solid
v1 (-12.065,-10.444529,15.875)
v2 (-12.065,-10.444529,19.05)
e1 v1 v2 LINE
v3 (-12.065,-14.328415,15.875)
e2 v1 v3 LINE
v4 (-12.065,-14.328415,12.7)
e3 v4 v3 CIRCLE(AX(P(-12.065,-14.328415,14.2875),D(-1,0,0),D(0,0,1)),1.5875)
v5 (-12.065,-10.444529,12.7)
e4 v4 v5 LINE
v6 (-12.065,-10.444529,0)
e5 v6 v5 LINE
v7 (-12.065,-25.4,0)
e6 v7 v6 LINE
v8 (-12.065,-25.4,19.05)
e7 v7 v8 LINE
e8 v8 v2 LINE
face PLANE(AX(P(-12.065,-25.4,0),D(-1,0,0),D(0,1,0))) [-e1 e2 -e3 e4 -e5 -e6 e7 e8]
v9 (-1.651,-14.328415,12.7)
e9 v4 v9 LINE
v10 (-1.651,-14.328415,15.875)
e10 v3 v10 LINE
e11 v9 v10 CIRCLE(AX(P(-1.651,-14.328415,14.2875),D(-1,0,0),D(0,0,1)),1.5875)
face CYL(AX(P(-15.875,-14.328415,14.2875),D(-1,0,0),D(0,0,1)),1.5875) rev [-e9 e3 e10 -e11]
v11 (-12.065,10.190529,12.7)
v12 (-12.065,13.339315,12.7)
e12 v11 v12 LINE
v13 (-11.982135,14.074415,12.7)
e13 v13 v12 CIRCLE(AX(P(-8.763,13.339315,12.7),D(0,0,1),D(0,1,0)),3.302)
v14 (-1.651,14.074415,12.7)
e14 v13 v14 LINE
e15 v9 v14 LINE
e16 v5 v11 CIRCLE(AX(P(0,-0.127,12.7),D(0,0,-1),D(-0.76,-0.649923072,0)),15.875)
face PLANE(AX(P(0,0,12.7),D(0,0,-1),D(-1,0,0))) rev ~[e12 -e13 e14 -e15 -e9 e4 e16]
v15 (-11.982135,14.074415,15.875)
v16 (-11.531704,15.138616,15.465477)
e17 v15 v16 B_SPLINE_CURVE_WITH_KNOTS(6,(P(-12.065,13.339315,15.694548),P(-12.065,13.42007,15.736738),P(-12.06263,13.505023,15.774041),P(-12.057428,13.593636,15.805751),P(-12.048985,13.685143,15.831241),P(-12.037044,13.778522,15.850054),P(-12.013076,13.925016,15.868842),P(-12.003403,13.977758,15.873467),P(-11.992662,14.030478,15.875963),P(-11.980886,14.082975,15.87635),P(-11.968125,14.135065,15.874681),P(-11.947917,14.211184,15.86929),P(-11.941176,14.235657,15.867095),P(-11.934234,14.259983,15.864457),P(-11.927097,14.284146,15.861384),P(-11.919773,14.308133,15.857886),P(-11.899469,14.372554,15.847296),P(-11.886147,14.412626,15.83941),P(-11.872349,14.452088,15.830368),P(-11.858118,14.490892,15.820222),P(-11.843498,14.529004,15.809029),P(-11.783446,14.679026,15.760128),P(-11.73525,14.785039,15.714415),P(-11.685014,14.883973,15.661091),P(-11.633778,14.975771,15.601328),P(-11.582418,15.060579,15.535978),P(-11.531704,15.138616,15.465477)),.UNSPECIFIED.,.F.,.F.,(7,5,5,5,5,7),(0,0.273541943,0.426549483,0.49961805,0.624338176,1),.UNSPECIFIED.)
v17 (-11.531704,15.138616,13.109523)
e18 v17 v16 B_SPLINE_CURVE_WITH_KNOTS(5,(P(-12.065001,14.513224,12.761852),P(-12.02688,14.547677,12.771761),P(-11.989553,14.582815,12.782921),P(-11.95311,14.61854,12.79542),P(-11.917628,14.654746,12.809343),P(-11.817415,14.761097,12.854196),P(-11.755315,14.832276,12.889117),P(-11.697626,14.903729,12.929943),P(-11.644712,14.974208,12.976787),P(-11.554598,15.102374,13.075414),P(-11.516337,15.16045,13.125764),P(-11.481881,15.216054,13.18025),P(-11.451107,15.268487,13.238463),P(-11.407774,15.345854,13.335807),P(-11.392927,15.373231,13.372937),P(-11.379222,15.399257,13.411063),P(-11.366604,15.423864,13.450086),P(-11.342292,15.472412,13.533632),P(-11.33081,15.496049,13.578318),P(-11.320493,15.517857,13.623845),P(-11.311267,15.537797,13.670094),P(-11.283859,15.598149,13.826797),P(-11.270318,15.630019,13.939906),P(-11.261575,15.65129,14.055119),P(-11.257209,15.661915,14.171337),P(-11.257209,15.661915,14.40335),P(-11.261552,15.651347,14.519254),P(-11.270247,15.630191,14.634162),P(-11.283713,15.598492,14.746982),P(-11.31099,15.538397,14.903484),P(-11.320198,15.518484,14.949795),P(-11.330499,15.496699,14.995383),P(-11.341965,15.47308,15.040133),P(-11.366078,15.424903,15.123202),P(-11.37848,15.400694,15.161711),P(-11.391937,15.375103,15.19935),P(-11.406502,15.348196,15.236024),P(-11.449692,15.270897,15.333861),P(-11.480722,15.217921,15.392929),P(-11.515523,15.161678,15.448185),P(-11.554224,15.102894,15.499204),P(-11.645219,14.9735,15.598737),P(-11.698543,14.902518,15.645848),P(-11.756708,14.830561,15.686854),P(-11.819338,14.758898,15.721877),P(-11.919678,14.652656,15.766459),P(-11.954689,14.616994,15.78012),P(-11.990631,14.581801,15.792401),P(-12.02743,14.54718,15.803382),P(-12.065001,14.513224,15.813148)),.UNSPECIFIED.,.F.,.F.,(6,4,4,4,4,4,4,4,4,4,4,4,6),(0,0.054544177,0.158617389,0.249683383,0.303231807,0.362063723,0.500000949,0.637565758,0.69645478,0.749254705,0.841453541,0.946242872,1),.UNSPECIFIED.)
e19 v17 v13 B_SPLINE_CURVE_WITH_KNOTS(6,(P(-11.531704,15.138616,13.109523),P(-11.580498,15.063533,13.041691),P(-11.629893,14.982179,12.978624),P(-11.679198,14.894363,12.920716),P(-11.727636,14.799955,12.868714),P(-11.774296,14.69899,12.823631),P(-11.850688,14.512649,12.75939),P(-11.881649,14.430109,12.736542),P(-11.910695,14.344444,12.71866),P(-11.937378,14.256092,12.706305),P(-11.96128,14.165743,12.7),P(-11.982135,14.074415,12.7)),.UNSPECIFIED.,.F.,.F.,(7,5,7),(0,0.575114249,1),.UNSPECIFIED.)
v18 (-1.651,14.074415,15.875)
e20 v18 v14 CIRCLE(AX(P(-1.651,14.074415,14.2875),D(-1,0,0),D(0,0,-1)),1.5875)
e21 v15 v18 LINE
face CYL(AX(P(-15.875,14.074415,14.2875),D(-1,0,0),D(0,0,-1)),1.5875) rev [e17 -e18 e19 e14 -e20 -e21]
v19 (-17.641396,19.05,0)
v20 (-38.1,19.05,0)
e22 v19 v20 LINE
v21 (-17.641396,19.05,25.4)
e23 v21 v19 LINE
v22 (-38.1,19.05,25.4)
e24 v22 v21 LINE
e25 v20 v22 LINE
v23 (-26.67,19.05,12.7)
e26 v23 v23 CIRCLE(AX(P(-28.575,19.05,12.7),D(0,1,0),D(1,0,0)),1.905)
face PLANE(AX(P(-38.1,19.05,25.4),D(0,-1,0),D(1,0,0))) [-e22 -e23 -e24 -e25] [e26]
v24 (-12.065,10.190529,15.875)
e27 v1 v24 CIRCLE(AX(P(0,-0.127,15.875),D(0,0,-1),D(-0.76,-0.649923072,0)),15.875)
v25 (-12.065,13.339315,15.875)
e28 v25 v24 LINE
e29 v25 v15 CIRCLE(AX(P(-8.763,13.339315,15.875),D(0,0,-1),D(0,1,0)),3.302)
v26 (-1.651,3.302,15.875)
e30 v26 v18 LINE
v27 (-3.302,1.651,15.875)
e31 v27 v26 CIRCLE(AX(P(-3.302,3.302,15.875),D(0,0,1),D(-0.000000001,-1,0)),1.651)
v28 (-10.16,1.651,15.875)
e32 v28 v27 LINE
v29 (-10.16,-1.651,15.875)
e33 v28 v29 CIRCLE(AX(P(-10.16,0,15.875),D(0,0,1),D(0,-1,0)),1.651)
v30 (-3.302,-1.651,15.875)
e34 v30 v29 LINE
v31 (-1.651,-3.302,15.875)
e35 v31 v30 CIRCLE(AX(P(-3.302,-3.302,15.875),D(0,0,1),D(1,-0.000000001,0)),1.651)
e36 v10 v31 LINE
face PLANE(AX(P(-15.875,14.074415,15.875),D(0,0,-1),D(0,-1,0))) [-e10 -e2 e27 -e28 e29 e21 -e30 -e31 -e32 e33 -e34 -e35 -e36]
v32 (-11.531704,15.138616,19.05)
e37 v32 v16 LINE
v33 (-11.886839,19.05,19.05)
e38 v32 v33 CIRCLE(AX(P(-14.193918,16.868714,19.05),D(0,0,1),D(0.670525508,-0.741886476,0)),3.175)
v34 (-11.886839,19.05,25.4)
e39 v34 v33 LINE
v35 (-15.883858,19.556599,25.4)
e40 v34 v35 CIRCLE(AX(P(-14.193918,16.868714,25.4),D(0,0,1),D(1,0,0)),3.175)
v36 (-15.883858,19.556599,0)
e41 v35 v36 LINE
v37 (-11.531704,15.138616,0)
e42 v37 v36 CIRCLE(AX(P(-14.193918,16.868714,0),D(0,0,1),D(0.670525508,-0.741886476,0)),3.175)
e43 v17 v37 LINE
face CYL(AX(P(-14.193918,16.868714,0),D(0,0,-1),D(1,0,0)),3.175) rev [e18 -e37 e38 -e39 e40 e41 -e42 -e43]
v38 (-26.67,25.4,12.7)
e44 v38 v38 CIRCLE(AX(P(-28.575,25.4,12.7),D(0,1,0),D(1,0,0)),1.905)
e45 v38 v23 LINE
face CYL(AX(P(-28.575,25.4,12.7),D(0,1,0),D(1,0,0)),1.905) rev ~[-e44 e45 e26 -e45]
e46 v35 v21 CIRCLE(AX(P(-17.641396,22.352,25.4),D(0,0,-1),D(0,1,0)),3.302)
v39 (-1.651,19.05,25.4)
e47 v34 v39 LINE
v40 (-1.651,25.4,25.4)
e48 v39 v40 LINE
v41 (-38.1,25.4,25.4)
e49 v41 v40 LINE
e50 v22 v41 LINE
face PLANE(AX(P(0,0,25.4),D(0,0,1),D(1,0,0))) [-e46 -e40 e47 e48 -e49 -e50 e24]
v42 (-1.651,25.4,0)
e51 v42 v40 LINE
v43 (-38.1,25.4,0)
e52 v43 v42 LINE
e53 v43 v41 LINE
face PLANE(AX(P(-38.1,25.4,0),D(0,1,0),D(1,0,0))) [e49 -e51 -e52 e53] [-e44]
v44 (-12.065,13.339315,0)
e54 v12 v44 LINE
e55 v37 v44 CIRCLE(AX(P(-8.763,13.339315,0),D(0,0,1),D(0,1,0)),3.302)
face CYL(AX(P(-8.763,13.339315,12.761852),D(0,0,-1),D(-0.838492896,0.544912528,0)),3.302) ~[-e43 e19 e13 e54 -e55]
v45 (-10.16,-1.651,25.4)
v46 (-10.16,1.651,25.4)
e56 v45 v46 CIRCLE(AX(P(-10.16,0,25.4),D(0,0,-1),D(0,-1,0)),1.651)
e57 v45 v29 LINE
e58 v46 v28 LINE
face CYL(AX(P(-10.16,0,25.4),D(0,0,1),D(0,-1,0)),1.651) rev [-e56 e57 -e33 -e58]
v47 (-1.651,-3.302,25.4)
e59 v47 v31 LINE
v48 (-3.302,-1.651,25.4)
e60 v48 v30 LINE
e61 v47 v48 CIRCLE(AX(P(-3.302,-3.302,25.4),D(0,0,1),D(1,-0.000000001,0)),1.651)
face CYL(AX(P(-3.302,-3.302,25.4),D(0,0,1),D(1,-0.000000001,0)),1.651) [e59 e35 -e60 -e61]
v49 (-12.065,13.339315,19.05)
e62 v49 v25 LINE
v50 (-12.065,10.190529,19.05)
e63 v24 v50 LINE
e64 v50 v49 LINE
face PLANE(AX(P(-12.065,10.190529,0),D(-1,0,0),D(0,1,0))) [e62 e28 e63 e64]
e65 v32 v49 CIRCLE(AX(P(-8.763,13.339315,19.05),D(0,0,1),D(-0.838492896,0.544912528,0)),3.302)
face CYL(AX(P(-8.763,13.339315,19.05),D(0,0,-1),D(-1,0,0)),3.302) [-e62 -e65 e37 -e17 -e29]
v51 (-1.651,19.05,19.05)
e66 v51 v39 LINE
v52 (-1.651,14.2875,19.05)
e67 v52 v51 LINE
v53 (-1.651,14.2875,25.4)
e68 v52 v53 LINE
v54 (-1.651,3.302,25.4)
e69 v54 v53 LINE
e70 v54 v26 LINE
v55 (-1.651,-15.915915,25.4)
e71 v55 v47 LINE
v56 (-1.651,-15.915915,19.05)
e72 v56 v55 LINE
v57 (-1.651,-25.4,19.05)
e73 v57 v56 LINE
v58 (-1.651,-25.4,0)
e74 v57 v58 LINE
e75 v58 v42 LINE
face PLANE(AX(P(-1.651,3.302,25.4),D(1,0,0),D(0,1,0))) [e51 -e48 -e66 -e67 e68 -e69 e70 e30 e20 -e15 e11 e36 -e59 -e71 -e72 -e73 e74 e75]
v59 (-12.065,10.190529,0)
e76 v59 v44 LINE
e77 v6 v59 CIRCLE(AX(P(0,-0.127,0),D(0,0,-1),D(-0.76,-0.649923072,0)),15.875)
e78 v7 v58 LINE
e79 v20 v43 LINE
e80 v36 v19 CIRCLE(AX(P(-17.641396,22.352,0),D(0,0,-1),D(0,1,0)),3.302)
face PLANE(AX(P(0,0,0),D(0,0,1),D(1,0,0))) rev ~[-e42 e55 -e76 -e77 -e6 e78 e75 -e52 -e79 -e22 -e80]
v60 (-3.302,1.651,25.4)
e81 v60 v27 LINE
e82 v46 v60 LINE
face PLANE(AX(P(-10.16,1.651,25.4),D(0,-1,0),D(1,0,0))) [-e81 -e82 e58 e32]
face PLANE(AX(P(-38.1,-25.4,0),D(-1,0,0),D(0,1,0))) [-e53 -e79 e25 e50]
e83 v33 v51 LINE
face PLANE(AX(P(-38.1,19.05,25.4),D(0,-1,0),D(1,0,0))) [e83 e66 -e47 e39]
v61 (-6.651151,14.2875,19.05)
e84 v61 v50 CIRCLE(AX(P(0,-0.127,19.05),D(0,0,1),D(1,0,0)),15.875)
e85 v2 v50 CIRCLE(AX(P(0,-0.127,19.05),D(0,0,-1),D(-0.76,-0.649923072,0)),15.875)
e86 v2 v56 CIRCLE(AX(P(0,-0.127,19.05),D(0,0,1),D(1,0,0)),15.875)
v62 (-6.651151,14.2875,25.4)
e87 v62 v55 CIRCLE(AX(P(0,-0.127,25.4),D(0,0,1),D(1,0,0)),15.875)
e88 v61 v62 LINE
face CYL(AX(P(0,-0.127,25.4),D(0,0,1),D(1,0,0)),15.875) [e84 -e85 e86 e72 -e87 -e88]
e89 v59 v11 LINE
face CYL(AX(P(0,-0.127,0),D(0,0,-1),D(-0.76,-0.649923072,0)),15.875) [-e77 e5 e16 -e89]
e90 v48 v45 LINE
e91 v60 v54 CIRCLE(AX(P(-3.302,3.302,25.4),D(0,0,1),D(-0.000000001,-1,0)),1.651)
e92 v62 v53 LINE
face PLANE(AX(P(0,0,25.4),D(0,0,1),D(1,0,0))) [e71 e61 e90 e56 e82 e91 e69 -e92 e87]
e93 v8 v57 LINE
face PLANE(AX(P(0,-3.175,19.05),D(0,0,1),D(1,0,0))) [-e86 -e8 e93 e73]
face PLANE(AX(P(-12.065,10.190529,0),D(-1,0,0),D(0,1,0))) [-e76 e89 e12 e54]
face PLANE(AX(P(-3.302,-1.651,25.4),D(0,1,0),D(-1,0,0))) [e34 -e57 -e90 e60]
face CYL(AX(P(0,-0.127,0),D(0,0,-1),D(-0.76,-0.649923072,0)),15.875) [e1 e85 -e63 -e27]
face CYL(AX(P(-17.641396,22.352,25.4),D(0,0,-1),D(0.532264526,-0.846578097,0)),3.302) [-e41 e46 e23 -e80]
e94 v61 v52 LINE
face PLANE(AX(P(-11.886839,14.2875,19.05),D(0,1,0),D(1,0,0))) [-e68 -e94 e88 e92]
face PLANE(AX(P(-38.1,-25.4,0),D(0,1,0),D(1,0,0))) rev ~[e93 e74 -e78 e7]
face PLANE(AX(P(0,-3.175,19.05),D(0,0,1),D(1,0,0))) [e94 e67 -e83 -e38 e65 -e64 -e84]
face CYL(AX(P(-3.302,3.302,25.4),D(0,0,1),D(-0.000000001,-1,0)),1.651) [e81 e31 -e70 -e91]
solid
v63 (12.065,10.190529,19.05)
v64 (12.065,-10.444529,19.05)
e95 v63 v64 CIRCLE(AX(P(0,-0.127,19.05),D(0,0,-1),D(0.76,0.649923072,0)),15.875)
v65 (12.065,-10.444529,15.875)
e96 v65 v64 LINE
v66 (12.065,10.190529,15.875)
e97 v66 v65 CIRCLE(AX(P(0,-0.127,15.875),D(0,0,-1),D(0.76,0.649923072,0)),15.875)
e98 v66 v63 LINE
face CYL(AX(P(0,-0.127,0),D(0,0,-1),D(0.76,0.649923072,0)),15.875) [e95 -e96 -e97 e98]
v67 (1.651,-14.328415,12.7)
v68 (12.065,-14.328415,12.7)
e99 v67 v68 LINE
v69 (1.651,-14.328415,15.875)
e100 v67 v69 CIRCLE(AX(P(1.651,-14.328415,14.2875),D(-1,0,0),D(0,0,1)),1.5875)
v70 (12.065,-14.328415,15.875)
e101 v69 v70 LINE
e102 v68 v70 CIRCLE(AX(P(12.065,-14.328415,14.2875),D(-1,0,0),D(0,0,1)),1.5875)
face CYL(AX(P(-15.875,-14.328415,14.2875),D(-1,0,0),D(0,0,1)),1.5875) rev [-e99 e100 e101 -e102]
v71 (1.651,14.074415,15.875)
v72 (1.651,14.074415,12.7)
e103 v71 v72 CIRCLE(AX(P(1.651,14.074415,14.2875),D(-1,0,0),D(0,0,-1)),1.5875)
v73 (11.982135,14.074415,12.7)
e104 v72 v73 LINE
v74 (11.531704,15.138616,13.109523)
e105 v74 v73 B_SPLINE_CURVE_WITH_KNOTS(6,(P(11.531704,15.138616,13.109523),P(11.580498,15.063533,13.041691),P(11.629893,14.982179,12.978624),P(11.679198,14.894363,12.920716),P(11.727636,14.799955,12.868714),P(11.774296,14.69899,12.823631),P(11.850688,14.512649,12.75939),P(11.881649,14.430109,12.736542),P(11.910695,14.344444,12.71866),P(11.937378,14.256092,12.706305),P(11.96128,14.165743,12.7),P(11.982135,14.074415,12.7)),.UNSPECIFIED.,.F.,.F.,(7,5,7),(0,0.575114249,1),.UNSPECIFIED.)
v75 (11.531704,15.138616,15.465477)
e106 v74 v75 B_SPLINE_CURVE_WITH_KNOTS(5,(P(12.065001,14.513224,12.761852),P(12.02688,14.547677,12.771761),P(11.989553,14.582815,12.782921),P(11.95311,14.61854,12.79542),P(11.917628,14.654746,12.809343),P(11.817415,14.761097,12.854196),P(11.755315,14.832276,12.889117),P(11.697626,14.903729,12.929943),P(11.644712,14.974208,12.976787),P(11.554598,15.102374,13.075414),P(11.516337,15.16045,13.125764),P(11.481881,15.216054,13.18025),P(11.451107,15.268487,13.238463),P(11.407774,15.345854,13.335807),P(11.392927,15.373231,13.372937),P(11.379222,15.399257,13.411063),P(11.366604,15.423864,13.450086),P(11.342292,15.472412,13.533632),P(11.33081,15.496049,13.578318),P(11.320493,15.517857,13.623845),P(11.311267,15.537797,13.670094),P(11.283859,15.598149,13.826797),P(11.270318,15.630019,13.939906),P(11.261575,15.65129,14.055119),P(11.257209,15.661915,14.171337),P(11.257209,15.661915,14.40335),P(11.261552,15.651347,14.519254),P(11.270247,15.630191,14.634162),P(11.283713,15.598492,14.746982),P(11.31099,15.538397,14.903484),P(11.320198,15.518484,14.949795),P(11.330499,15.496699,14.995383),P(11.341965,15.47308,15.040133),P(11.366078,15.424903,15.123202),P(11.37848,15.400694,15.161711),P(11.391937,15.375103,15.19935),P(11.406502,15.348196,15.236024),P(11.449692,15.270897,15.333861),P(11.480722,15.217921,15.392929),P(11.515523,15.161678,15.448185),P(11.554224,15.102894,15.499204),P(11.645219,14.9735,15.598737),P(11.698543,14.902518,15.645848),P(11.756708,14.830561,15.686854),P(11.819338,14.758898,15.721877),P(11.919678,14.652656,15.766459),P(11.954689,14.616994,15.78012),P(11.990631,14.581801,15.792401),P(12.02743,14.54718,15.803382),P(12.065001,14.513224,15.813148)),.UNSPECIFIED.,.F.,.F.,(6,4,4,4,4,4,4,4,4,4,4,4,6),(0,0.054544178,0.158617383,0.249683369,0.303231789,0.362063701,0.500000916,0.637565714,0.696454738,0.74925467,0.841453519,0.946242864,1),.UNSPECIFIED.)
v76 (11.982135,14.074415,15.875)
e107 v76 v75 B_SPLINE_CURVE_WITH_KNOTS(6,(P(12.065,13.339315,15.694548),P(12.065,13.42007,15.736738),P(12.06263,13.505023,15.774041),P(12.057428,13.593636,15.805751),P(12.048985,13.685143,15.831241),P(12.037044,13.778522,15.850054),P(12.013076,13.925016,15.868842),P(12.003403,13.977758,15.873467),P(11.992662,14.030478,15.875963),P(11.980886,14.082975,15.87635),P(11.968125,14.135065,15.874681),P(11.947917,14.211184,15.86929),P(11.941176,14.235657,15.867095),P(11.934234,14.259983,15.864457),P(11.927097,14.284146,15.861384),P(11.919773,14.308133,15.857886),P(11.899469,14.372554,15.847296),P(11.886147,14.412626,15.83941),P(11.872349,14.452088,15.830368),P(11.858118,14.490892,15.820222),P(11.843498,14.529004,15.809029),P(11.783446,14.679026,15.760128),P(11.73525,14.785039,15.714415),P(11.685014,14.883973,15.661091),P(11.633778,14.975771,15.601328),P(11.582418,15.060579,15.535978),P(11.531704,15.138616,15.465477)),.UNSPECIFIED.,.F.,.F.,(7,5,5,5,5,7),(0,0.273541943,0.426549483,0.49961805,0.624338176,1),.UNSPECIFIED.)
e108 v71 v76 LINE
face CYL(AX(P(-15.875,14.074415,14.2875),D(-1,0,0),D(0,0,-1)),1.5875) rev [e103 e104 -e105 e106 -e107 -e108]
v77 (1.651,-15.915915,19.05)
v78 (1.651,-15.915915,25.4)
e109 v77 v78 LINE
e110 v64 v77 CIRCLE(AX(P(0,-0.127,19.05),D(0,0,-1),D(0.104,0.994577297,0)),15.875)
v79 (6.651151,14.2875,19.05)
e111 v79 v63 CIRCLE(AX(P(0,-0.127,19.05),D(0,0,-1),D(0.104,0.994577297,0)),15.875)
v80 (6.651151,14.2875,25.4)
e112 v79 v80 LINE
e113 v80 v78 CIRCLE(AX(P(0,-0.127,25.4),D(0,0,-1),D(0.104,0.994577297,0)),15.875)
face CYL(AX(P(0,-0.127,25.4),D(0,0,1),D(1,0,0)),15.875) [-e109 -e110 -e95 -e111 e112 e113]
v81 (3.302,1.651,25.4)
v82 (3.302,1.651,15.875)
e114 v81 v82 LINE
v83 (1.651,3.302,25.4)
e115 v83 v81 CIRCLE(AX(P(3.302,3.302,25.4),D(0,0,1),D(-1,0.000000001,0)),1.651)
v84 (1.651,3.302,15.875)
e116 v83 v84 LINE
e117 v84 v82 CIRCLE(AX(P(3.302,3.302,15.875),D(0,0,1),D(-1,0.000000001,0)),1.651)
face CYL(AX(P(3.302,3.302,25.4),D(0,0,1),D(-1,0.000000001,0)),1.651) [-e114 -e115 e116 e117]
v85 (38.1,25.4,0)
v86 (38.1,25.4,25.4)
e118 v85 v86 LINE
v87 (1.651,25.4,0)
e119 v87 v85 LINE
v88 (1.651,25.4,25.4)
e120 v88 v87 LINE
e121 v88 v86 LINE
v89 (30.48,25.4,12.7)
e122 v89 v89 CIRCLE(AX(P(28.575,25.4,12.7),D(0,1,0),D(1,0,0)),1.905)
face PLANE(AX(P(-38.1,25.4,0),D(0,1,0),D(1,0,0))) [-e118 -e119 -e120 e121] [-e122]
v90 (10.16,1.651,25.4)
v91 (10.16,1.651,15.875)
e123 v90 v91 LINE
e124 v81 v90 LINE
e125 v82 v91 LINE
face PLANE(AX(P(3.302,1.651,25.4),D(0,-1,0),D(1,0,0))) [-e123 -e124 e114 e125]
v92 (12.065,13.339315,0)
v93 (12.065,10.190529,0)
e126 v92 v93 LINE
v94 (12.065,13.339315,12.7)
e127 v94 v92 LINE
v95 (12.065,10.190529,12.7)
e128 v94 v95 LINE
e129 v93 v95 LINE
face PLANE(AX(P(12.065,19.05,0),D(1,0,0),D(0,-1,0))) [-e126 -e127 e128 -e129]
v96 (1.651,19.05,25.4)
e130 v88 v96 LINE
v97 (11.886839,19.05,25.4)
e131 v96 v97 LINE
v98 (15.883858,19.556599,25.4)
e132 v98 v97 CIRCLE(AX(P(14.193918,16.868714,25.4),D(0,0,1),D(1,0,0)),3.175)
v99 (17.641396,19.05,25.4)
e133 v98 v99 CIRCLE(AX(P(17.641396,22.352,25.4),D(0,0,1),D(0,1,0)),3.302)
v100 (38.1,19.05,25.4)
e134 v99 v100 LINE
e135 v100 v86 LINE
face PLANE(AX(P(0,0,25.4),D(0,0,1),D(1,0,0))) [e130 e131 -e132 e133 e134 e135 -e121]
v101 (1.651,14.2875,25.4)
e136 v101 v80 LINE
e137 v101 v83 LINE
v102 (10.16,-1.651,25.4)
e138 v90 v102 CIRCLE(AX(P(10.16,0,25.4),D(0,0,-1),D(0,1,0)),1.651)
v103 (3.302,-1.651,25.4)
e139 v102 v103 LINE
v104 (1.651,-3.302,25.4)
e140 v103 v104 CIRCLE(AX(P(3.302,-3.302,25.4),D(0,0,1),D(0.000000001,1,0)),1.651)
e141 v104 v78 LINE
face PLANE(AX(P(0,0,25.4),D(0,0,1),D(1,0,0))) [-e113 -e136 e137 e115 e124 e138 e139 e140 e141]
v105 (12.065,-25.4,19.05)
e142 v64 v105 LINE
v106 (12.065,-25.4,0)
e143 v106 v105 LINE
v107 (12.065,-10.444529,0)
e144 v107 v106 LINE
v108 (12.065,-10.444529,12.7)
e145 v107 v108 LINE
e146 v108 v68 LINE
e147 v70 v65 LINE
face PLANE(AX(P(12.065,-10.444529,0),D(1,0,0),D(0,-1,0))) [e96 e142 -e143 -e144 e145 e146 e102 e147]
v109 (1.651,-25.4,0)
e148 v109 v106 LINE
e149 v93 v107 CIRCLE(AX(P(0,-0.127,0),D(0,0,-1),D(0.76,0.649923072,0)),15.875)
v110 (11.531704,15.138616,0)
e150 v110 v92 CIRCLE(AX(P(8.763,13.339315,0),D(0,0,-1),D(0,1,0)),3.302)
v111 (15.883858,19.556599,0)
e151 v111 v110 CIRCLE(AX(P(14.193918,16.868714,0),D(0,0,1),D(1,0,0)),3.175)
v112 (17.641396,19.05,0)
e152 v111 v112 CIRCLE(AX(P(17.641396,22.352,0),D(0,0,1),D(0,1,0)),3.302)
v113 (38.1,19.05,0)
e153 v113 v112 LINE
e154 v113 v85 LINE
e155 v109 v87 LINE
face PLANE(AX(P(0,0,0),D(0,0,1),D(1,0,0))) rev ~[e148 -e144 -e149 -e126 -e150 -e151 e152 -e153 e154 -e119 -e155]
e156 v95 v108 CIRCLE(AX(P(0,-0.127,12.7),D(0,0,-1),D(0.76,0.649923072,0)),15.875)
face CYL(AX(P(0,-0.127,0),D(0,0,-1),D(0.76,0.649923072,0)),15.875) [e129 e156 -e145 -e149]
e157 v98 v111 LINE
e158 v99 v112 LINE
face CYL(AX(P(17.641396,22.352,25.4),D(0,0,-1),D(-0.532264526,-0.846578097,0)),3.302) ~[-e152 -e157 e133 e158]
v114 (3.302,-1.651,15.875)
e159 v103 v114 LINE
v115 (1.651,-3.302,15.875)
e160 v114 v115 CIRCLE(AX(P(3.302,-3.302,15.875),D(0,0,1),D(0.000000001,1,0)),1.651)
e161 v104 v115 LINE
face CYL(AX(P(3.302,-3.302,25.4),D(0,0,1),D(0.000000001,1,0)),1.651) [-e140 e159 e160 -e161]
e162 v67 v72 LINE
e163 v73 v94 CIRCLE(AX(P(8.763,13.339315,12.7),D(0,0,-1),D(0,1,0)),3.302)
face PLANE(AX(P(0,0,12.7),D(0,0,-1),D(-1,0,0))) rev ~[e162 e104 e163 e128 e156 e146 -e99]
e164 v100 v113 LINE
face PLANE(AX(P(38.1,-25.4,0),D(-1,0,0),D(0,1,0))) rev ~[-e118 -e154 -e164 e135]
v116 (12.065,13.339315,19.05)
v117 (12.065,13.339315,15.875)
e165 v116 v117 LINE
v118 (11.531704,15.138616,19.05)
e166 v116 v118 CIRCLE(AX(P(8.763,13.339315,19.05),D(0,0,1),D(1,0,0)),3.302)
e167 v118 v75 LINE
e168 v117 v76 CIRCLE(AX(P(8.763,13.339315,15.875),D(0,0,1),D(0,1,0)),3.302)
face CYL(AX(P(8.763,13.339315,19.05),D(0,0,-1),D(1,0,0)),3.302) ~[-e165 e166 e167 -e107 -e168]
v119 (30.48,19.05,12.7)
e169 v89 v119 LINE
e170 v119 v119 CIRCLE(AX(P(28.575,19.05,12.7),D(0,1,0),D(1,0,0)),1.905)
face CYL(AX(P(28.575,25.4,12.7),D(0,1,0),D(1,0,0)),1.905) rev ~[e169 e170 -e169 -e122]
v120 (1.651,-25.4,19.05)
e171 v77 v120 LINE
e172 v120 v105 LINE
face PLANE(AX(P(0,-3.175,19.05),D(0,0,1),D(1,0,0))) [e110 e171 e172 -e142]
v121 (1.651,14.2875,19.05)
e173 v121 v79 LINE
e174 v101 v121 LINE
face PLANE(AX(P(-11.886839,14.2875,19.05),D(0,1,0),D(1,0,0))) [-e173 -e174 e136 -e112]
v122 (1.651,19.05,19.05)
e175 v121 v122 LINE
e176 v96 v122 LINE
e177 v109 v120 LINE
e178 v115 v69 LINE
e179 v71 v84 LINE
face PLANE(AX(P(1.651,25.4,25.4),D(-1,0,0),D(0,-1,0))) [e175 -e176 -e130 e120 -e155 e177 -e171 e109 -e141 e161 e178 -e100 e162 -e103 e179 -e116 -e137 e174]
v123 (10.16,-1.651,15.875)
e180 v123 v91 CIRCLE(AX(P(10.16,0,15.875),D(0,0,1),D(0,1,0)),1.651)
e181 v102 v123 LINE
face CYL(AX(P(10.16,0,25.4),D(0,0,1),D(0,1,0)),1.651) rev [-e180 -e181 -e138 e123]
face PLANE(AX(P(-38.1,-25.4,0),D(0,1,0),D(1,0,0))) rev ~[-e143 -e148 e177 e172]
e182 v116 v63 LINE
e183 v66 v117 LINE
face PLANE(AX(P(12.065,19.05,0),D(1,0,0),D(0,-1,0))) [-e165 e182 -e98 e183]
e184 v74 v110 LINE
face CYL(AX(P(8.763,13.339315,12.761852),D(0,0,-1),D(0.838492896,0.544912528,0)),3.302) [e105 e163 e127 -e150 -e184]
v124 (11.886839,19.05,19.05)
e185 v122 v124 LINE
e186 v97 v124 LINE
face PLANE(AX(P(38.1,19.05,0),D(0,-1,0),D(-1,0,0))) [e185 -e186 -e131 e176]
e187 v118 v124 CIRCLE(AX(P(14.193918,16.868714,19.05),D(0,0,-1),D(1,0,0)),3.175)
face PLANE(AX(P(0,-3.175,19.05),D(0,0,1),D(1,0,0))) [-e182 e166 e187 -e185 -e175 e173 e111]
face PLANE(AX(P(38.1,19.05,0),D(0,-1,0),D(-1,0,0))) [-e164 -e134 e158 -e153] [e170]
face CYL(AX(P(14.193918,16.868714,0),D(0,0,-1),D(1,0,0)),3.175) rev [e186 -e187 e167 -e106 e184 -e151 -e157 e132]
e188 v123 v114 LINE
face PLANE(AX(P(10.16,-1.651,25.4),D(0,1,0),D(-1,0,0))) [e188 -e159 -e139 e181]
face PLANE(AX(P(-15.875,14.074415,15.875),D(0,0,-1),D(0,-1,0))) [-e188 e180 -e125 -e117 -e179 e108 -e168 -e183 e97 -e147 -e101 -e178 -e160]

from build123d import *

# Parameters (mm, degrees)
SKETCH1_W           = 76.2
SKETCH1_H           = 50.8
BOSS_EXTRUDE1_DEPTH = 25.4
SKETCH2_W           = 76.2
SKETCH2_H           = 44.45
SKETCH2_R           = 15.875
CUT_EXTRUDE1_DEPTH  = 6.35
CUT_EXTRUDE2_DEPTH  = 12.7
CUT_EXTRUDE3_START  = -19.05
CUT_EXTRUDE3_DEPTH  = 19.05
CUT_EXTRUDE4_START  = -15.875
CUT_EXTRUDE4_DEPTH  = 31.75
CUT_EXTRUDE5_START  = -19.05
SKETCH7_R           = 3.175
CUT_EXTRUDE5_DEPTH  = 25.4
FILLET1_R           = 3.302
SKETCH8_R           = 1.905
CUT_EXTRUDE6_DEPTH  = 6.35
SKETCH9_W           = 3.302
SKETCH9_H           = 50.8
CUT_EXTRUDE7_DEPTH  = 12.7
SKETCH10_W          = 23.773678362
SKETCH10_H          = 4.7625
CUT_EXTRUDE8_DEPTH  = 6.35


with BuildPart() as part:
    # Sketch1 → Boss-Extrude1 (new body)
    with BuildSketch(Plane.XY):
        Rectangle(SKETCH1_W, SKETCH1_H)
    extrude(amount=BOSS_EXTRUDE1_DEPTH)

    # Sketch2 → Cut-Extrude1 (cut)
    with BuildSketch(Plane.XY.offset(25.4)):
        with Locations((0, -3.175)):
            Rectangle(SKETCH2_W, SKETCH2_H)
        with Locations((0, -0.127)):
            Circle(SKETCH2_R, mode=Mode.SUBTRACT)
    extrude(amount=-CUT_EXTRUDE1_DEPTH, mode=Mode.SUBTRACT)

    # Sketch3 → Cut-Extrude2 (cut)
    with BuildSketch(Plane.XY.offset(25.4)):
        with BuildLine():
            Line((10.16, -1.651), (3.302, -1.651))
            ThreePointArc((3.302, -1.651), (2.134566704, -2.134566704), (1.651, -3.302))
            Line((1.651, -3.302), (1.651, -25.4))
            Line((1.651, -25.4), (-1.651, -25.4))
            Line((-1.651, -25.4), (-1.651, -3.302))
            ThreePointArc((-1.651, -3.302), (-2.134566704, -2.134566704), (-3.302, -1.651))
            Line((-3.302, -1.651), (-10.16, -1.651))
            ThreePointArc((-10.16, -1.651), (-11.811, 0), (-10.16, 1.651))
            Line((-10.16, 1.651), (-3.302, 1.651))
            ThreePointArc((-3.302, 1.651), (-2.134566704, 2.134566704), (-1.651, 3.302))
            Line((-1.651, 3.302), (-1.651, 25.4))
            Line((-1.651, 25.4), (1.651, 25.4))
            Line((1.651, 25.4), (1.651, 3.302))
            ThreePointArc((1.651, 3.302), (2.134566704, 2.134566704), (3.302, 1.651))
            Line((3.302, 1.651), (10.16, 1.651))
            ThreePointArc((10.16, 1.651), (11.811, 0), (10.16, -1.651))
        make_face()
    extrude(amount=-CUT_EXTRUDE2_DEPTH, mode=Mode.SUBTRACT)

    # Sketch4 → Cut-Extrude3 (cut)
    with BuildSketch(Plane.XY.offset(19.05).offset(CUT_EXTRUDE3_START)):
        with BuildLine():
            Line((12.065, -25.4), (38.1, -25.4))
            Line((38.1, -25.4), (38.1, 19.05))
            Line((38.1, 19.05), (12.065, 19.05))
            Line((12.065, 19.05), (12.065, 10.190528774))
            ThreePointArc((12.065, 10.190528774), (15.875, -0.127), (12.065, -10.444528774))
            Line((12.065, -10.444528774), (12.065, -25.4))
        make_face()
        with BuildLine():
            Line((-12.065, 10.190528774), (-12.065, 19.05))
            Line((-12.065, 19.05), (-38.1, 19.05))
            Line((-38.1, 19.05), (-38.1, -25.4))
            Line((-38.1, -25.4), (-12.065, -25.4))
            Line((-12.065, -25.4), (-12.065, -10.444528774))
            ThreePointArc((-12.065, -10.444528774), (-15.875, -0.127), (-12.065, 10.190528774))
        make_face()
    extrude(amount=CUT_EXTRUDE3_DEPTH, mode=Mode.SUBTRACT)

    # Sketch6 → Cut-Extrude4 (cut)
    with BuildSketch(Plane(origin=(0, 0, 0), x_dir=(0, 0, -1), z_dir=(1, 0, 0)).offset(CUT_EXTRUDE4_START)):
        with BuildLine():
            Line((-12.7, -14.328414592), (-12.7, 14.074414592))
            ThreePointArc((-12.7, 14.074414592), (-14.2875, 15.661914592), (-15.875, 14.074414592))
            Line((-15.875, 14.074414592), (-15.875, -14.328414592))
            ThreePointArc((-15.875, -14.328414592), (-14.2875, -15.915914592), (-12.7, -14.328414592))
        make_face()
    extrude(amount=CUT_EXTRUDE4_DEPTH, mode=Mode.SUBTRACT)

    # Sketch7 → Cut-Extrude5 (cut)
    with BuildSketch(Plane.XY.offset(19.05).offset(CUT_EXTRUDE5_START)):
        with Locations((14.193918487, 16.868713665)):
            Circle(SKETCH7_R)
        with Locations((-14.193918487, 16.868713665)):
            Circle(SKETCH7_R)
    extrude(amount=CUT_EXTRUDE5_DEPTH, mode=Mode.SUBTRACT)

    # Fillet1
    fillet1_edges = [part.edges().sort_by_distance(p)[0] for p in [
        (-12.065, 14.513224103, 6.380925895),
        (-12.065, 14.513224103, 17.431574105),
        (-16.500997793, 19.05, 9.525),
        (12.065, 14.513224103, 6.380925895),
        (12.065, 14.513224103, 17.431574105),
        (16.500997793, 19.05, 9.525),
    ]]
    fillet(fillet1_edges, radius=FILLET1_R)

    # Sketch8 → Cut-Extrude6 (cut)
    with BuildSketch(Plane(origin=(0, 25.4, 0), x_dir=(1, 0, 0), z_dir=(0, 1, 0))):
        with Locations((-28.575, -12.7)):
            Circle(SKETCH8_R)
        with Locations((28.575, -12.7)):
            Circle(SKETCH8_R)
    extrude(amount=-CUT_EXTRUDE6_DEPTH, mode=Mode.SUBTRACT)

    # Sketch9 → Cut-Extrude7 (cut)
    with BuildSketch(Plane.XY.offset(12.7)):
        Rectangle(SKETCH9_W, SKETCH9_H)
    extrude(amount=-CUT_EXTRUDE7_DEPTH, mode=Mode.SUBTRACT)

    # Sketch10 → Cut-Extrude8 (cut)
    with BuildSketch(Plane.XY.offset(19.05)):
        with Locations((0, 16.66875)):
            Rectangle(SKETCH10_W, SKETCH10_H)
    extrude(amount=CUT_EXTRUDE8_DEPTH, mode=Mode.SUBTRACT)


solid = part.part
